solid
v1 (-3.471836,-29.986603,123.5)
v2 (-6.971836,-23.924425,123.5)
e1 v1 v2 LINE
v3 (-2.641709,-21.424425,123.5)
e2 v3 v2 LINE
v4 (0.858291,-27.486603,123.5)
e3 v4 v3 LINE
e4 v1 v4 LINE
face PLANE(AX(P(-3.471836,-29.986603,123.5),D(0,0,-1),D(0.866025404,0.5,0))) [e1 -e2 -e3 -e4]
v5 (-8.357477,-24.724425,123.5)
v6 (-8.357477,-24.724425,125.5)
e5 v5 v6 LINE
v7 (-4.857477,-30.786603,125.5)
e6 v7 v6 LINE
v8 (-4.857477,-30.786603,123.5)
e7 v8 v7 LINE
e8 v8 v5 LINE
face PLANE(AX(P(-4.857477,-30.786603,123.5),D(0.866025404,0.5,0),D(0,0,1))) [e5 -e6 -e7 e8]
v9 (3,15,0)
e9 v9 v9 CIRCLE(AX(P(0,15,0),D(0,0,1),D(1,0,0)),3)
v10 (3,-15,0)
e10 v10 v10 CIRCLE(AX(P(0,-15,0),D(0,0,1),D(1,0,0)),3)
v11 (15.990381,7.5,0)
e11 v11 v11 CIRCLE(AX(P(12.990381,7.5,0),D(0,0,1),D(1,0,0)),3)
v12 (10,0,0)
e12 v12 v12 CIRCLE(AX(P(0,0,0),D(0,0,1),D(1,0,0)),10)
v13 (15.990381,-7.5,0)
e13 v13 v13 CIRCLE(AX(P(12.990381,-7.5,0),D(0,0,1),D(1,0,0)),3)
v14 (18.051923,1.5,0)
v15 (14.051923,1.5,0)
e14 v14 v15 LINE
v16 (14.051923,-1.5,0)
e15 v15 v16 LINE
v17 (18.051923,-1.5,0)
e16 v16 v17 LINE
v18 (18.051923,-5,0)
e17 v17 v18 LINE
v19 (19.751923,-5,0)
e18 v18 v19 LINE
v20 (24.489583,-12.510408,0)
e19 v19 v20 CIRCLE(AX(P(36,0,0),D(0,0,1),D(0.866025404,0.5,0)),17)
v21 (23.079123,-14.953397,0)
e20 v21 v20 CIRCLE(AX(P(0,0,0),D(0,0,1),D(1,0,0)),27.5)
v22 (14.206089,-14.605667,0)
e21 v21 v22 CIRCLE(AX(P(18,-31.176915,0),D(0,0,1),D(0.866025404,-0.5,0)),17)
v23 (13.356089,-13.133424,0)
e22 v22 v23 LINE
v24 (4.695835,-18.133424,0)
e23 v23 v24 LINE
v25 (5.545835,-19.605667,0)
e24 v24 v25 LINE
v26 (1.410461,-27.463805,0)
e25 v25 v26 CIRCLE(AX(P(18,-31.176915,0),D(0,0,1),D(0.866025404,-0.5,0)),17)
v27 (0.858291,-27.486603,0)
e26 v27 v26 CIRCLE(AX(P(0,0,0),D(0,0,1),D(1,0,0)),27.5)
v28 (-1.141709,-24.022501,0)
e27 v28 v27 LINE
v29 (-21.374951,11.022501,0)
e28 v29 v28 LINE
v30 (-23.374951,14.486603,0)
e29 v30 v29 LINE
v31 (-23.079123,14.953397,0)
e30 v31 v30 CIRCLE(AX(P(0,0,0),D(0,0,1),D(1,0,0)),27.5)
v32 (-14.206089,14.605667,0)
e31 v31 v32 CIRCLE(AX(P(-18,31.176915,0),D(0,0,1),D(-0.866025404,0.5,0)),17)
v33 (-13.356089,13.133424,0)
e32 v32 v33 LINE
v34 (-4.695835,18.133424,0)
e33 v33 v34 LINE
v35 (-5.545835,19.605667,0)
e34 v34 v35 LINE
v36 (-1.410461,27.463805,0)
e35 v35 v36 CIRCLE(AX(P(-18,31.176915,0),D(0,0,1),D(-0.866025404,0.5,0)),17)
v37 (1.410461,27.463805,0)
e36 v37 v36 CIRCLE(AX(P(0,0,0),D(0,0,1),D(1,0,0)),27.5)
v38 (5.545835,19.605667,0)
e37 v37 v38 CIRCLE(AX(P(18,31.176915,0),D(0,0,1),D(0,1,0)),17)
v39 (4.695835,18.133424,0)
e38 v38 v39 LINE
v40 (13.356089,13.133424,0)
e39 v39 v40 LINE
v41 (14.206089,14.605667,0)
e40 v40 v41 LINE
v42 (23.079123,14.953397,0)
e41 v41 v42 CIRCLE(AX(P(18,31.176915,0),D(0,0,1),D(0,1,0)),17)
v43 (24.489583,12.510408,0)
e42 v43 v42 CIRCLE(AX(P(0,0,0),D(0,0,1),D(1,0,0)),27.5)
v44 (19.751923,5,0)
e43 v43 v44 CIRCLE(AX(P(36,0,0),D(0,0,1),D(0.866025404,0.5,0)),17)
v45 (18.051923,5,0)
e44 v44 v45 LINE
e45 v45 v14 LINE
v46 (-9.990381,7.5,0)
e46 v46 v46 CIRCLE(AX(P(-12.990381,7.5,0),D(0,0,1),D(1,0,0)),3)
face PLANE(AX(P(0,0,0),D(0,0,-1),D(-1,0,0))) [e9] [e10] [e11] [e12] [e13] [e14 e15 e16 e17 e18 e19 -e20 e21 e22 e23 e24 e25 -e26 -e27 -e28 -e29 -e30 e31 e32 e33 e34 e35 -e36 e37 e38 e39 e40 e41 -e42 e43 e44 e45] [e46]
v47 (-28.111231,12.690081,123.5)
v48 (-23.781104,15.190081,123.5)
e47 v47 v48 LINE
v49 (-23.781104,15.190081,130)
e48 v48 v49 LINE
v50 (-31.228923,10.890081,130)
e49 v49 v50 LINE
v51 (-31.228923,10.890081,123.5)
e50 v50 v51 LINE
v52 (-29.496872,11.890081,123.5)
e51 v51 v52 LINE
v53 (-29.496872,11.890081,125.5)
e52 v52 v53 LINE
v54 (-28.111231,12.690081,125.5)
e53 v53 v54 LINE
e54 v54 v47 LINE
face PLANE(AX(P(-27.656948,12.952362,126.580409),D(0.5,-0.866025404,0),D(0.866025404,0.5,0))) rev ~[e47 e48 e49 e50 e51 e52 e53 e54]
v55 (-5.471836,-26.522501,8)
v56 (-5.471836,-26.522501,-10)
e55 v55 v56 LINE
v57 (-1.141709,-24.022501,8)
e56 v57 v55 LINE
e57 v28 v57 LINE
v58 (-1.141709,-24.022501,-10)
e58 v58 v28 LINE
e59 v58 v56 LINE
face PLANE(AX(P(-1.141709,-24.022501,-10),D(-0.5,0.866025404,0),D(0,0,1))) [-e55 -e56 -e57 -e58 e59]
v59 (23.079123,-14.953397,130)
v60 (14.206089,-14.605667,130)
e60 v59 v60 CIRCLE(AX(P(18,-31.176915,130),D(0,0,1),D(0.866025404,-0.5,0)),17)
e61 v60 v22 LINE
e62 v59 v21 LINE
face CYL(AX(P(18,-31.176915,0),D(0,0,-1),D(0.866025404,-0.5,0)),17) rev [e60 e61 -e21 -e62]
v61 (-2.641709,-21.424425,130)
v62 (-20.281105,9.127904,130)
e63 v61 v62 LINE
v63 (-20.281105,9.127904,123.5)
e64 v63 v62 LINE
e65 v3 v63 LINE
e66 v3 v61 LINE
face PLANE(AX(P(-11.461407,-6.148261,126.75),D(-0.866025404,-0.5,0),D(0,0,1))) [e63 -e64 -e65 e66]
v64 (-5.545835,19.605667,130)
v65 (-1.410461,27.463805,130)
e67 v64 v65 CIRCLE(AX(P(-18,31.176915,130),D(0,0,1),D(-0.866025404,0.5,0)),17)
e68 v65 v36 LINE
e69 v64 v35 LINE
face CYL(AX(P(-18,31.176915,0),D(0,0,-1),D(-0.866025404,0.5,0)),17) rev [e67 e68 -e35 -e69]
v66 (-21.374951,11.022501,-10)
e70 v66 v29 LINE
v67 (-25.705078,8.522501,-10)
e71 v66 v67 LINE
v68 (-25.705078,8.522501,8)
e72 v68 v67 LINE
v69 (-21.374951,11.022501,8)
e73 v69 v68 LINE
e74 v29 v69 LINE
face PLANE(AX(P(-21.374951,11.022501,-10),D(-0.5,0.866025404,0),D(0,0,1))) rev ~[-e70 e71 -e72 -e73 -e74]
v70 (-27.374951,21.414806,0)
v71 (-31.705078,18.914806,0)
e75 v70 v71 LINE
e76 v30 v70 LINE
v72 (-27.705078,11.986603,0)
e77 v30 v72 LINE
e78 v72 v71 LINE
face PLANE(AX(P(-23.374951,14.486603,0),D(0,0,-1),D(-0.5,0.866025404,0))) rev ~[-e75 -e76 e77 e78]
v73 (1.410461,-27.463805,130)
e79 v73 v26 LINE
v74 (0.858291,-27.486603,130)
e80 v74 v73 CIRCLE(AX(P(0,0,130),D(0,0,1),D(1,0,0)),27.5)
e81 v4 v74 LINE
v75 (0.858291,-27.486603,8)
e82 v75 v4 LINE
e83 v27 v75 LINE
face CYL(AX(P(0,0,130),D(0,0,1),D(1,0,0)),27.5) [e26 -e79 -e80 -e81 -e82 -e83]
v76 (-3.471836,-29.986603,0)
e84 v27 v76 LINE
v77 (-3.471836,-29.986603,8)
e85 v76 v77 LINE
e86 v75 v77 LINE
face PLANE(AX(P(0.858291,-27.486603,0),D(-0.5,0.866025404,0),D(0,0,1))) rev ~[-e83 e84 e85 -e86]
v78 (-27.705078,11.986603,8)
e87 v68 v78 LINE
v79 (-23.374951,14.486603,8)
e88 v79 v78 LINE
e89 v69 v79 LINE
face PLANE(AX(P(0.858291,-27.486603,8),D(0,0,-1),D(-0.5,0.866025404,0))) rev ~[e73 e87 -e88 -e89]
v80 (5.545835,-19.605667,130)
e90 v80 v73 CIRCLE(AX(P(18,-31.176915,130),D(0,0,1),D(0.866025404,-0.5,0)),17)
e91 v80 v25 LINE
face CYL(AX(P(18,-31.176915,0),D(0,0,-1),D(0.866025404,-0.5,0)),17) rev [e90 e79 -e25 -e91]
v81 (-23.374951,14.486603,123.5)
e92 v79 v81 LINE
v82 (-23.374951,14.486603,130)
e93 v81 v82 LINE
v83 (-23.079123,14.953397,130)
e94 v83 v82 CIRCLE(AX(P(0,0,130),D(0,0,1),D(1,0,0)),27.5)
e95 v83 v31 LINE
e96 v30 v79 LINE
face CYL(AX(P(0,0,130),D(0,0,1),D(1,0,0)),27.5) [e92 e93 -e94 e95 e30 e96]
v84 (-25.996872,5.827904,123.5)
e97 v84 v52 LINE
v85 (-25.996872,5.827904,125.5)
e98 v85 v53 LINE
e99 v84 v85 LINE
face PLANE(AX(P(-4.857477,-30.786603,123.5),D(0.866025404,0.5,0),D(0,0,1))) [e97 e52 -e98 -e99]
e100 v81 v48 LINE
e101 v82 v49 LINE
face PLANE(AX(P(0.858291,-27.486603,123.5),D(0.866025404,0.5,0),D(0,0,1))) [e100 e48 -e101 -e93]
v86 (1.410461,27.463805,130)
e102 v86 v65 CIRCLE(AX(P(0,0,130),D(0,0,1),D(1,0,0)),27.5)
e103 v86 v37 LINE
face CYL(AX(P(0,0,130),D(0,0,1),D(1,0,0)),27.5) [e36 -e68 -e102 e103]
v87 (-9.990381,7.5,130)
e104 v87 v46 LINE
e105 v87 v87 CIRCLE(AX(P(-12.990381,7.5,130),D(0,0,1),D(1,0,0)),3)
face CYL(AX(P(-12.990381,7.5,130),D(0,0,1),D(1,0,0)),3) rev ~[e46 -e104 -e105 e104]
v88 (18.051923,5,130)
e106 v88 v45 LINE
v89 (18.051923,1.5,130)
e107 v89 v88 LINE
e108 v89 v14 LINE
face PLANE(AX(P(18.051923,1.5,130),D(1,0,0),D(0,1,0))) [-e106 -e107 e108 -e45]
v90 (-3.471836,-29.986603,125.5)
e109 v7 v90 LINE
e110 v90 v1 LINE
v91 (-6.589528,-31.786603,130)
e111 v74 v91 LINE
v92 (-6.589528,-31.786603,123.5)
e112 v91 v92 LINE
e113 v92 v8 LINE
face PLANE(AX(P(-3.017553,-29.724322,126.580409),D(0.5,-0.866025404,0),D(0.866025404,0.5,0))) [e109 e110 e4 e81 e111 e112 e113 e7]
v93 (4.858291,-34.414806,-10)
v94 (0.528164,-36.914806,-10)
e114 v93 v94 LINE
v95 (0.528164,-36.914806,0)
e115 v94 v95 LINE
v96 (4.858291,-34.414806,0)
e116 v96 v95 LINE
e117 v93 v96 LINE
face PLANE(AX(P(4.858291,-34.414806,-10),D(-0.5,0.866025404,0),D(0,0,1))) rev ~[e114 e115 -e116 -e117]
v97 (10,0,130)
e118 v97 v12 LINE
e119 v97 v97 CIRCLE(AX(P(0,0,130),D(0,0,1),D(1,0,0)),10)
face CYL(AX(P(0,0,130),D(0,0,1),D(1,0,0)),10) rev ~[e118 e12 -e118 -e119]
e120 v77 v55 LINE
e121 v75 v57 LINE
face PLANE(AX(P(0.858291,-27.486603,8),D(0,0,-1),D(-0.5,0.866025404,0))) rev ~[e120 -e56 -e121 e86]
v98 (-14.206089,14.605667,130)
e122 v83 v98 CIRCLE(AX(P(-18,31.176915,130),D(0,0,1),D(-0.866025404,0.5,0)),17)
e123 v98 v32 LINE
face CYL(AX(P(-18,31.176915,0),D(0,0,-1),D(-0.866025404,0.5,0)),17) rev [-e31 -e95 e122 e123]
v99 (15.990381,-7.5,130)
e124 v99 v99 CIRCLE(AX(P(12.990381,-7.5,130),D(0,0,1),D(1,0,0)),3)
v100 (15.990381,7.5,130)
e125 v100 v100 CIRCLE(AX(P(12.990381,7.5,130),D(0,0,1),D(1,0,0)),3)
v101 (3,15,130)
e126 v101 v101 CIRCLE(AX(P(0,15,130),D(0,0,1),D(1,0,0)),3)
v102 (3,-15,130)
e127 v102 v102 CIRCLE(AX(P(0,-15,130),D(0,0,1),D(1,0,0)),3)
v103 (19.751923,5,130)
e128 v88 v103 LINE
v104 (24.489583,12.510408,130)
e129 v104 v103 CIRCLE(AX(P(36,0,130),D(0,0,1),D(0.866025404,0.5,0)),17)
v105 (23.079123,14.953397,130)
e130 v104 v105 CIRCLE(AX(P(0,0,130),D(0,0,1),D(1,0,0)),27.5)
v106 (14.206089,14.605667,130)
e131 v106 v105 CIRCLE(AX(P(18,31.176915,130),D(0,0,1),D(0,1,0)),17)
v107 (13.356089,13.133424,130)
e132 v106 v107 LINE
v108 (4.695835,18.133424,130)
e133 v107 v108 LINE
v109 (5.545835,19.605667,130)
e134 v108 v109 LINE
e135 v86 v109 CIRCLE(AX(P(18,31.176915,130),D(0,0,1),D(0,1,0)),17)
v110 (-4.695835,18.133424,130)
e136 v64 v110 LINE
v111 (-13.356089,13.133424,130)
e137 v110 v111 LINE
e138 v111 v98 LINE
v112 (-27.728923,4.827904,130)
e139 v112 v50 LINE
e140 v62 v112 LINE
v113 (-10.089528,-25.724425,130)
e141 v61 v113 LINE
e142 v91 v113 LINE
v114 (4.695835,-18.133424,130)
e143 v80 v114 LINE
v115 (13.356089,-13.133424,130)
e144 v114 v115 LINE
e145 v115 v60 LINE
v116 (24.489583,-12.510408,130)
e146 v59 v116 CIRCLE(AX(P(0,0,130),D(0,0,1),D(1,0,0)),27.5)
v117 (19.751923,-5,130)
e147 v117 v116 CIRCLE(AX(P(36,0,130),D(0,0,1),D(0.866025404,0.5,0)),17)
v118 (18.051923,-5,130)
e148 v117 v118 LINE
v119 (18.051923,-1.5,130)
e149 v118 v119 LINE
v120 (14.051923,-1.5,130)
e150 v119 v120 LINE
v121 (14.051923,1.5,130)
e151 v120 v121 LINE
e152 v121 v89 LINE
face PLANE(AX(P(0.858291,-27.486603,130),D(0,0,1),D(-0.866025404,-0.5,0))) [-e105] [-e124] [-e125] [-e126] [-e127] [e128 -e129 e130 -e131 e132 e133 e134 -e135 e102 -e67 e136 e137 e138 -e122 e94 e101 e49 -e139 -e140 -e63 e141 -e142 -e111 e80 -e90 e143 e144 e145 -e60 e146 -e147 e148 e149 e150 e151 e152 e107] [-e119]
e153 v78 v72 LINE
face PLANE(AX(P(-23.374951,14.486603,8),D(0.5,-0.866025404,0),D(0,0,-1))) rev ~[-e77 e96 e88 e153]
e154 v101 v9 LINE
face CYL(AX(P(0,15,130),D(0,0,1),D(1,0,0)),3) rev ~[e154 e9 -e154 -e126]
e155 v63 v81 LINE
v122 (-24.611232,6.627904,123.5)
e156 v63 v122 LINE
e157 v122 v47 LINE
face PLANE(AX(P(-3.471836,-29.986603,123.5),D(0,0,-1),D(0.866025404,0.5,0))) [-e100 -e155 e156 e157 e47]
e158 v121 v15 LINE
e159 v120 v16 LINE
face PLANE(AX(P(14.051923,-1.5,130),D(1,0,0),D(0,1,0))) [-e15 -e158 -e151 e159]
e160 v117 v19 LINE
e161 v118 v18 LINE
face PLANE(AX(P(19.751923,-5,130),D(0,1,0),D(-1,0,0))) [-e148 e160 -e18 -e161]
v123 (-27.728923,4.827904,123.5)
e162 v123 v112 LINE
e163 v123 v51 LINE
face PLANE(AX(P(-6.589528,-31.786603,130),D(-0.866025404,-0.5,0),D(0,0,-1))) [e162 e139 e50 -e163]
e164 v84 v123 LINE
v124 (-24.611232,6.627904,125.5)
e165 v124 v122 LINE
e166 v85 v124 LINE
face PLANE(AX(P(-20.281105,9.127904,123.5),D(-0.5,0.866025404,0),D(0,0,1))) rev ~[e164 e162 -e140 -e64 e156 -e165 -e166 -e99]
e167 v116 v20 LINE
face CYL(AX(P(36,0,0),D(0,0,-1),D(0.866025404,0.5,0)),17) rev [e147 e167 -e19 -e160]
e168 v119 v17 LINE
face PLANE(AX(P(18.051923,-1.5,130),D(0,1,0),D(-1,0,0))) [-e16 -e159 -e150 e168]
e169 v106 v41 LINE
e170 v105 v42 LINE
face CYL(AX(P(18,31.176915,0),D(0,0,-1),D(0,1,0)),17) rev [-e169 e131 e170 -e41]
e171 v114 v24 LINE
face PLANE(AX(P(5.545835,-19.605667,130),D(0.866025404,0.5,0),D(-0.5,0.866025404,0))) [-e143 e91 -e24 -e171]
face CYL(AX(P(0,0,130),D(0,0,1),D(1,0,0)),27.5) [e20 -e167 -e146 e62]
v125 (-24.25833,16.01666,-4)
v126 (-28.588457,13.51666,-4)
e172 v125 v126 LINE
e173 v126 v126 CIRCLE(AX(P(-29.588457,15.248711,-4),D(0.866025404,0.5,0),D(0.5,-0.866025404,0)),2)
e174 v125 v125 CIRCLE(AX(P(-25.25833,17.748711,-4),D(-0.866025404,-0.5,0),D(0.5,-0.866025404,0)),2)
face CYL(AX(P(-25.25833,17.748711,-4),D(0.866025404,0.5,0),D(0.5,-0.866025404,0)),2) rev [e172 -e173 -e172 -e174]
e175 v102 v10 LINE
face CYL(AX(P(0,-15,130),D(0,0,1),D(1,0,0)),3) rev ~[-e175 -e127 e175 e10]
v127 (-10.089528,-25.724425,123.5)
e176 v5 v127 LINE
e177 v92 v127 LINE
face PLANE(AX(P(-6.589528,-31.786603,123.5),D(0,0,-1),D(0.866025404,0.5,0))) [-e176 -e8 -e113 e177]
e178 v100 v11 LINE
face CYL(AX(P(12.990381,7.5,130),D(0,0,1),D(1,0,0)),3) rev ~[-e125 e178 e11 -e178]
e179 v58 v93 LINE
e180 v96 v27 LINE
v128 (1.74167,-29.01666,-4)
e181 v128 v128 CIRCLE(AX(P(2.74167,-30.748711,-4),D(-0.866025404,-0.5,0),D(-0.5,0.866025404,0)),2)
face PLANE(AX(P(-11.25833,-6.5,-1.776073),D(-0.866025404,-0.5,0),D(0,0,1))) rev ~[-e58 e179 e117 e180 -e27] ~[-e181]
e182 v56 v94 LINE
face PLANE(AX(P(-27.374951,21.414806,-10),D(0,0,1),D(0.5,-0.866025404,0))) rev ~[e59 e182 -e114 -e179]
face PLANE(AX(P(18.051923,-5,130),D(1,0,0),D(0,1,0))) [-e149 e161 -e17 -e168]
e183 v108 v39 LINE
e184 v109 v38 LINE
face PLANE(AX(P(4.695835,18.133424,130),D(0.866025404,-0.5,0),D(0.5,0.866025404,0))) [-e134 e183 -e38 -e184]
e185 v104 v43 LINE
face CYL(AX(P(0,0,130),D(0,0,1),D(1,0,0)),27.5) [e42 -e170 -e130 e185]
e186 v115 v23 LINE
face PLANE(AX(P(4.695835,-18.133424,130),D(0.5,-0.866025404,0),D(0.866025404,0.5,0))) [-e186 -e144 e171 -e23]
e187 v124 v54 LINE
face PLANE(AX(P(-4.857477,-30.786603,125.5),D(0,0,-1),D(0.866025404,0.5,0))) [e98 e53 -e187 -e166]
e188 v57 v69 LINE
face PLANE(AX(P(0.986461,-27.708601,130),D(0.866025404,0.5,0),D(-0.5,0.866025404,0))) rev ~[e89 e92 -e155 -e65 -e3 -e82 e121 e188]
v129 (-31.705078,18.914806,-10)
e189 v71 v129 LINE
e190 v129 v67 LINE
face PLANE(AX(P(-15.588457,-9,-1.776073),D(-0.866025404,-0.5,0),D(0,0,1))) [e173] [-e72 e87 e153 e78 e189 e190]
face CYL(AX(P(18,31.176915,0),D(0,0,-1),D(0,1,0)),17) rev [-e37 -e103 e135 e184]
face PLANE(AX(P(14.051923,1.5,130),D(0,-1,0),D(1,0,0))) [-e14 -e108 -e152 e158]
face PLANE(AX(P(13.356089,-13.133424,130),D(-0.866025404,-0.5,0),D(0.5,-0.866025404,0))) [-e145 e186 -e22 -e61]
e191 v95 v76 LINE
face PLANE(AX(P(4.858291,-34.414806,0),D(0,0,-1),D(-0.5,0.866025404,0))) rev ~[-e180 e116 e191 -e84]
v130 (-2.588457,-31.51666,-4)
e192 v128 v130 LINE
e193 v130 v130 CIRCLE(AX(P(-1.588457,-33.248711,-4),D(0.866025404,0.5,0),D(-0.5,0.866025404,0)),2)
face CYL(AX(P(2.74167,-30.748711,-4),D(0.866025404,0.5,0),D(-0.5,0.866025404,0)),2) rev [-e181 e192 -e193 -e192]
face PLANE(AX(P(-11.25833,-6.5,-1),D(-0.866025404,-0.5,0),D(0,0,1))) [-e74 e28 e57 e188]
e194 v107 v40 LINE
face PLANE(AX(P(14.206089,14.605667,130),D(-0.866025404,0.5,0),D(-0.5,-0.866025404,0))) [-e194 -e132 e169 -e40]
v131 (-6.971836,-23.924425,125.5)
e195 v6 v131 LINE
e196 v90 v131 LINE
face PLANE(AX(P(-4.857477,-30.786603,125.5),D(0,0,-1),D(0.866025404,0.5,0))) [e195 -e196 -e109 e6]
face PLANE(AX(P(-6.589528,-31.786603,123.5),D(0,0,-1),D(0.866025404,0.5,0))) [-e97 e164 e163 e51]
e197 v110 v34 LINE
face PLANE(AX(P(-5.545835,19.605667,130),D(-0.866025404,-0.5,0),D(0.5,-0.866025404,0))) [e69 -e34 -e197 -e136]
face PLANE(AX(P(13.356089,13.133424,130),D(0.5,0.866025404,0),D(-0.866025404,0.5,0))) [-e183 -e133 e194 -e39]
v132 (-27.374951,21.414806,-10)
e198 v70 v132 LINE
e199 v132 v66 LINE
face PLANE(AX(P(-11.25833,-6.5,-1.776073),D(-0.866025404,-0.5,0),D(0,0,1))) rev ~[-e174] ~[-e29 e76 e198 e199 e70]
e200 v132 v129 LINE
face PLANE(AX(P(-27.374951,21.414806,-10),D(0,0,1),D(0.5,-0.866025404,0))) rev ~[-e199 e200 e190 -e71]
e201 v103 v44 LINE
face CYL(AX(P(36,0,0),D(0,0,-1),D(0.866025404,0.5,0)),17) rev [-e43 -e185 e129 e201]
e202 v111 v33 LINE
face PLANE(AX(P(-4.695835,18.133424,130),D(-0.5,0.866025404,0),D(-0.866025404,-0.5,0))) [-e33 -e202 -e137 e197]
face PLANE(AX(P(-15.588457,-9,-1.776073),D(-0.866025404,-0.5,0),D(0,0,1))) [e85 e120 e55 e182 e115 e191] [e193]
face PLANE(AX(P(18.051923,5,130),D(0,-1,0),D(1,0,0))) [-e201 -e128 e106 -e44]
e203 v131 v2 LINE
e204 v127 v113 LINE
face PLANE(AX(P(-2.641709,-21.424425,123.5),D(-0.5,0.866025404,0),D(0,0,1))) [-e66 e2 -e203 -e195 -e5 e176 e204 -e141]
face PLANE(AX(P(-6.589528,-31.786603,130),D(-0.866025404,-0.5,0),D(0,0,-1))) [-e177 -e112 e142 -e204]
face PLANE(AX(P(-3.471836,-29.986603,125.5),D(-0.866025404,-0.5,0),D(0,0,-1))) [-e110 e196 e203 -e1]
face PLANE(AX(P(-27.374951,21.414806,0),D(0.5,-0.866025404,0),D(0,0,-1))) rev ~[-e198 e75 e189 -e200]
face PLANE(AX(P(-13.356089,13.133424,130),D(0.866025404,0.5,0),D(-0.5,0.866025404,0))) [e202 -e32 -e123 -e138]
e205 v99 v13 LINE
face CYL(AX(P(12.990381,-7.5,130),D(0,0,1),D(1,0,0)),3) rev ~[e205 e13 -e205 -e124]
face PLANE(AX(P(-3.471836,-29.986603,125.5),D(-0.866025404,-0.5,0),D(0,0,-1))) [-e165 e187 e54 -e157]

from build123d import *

# Parameters (mm, degrees)
BOSS_EXTRU_1_DEPTH      = 130
ESQUISSE4_R             = 54.250129783
ESQUISSE4_R_2           = 27.5
ENL_V_MAT_EXTRU_1_DEPTH = 150.53980461
ESQUISSE5_R             = 10
ESQUISSE5_R_2           = 3
ENL_V_MAT_EXTRU_2_DEPTH = 136.114727886
BOSS_EXTRU_2_DEPTH      = 5
ESQUISSE6_R             = 2
ENL_V_MAT_EXTRU_3_DEPTH = 140.046443052
BOSS_EXTRU_3_DEPTH      = 49.27879
ENL_V_START             = -8.6
ESQUISSE9_W             = 6.5
ESQUISSE9_H             = 35.278790482
ESQUISSE9_W_2           = 18
ESQUISSE9_H_2           = 40.466483264
ENL_V_MAT_EXTRU_4_DEPTH = 8.6


with BuildPart() as part:
    # Esquisse1 → Boss.-Extru.1 (new body)
    with BuildSketch(Plane.XY):
        with BuildLine():
            Line((-18, -51.176914536), (-18, -48.176914536))
            ThreePointArc((-18, -48.176914536), (-9.5, -16.454482672), (-32.722431864, -39.676914536))
            Line((-32.722431864, -39.676914536), (-35.320508076, -41.176914536))
            ThreePointArc((-35.320508076, -41.176914536), (-37.98683472, -30.451354144), (-34.549834435, -19.947356212))
            ThreePointArc((-34.549834435, -19.947356212), (-45.365063628, -17.671886805), (-53.320508076, -10))
            Line((-53.320508076, -10), (-50.722431864, -8.5))
            ThreePointArc((-50.722431864, -8.5), (-19, 0), (-50.722431864, 8.5))
            Line((-50.722431864, 8.5), (-53.320508076, 10))
            ThreePointArc((-53.320508076, 10), (-45.365063628, 17.671886805), (-34.549834435, 19.947356212))
            ThreePointArc((-34.549834435, 19.947356212), (-37.98683472, 30.451354144), (-35.320508076, 41.176914536))
            Line((-35.320508076, 41.176914536), (-32.722431864, 39.676914536))
            ThreePointArc((-32.722431864, 39.676914536), (-9.5, 16.454482672), (-18, 48.176914536))
            Line((-18, 48.176914536), (-18, 51.176914536))
            ThreePointArc((-18, 51.176914536), (-7.378228908, 48.123240948), (0, 39.894712423))
            ThreePointArc((0, 39.894712423), (7.378228908, 48.123240948), (18, 51.176914536))
            Line((18, 51.176914536), (18, 48.176914536))
            ThreePointArc((18, 48.176914536), (9.5, 16.454482672), (32.722431864, 39.676914536))
            Line((32.722431864, 39.676914536), (35.320508076, 41.176914536))
            ThreePointArc((35.320508076, 41.176914536), (37.98683472, 30.451354144), (34.549834435, 19.947356212))
            ThreePointArc((34.549834435, 19.947356212), (45.365063628, 17.671886805), (53.320508076, 10))
            Line((53.320508076, 10), (50.722431864, 8.5))
            ThreePointArc((50.722431864, 8.5), (19, 0), (50.722431864, -8.5))
            Line((50.722431864, -8.5), (53.320508076, -10))
            ThreePointArc((53.320508076, -10), (45.365063628, -17.671886805), (34.549834435, -19.947356212))
            ThreePointArc((34.549834435, -19.947356212), (37.98683472, -30.451354144), (35.320508076, -41.176914536))
            Line((35.320508076, -41.176914536), (32.722431864, -39.676914536))
            ThreePointArc((32.722431864, -39.676914536), (9.5, -16.454482672), (18, -48.176914536))
            Line((18, -48.176914536), (18, -51.176914536))
            ThreePointArc((18, -51.176914536), (7.378228908, -48.123240948), (0, -39.894712423))
            ThreePointArc((0, -39.894712423), (-7.378228908, -48.123240948), (-18, -51.176914536))
        make_face()
    extrude(amount=BOSS_EXTRU_1_DEPTH)

    # Esquisse4 → Enlèv. mat.-Extru.1 (cut, through all)
    with BuildSketch(Plane.XY.offset(130)):
        Circle(ESQUISSE4_R)
        Circle(ESQUISSE4_R_2, mode=Mode.SUBTRACT)
    extrude(amount=-ENL_V_MAT_EXTRU_1_DEPTH, mode=Mode.SUBTRACT)

    # Esquisse5 → Enlèv. mat.-Extru.2 (cut, through all)
    with BuildSketch(Plane.XY.offset(130)):
        Circle(ESQUISSE5_R)
        with Locations((0, 15)):
            Circle(ESQUISSE5_R_2)
        with Locations((12.990381057, 7.5)):
            Circle(ESQUISSE5_R_2)
        with Locations((12.990381057, -7.5)):
            Circle(ESQUISSE5_R_2)
        with Locations((0, -15)):
            Circle(ESQUISSE5_R_2)
        with Locations((-12.990381057, 7.5)):
            Circle(ESQUISSE5_R_2)
        Polygon((14.206088614, -14.605667257), (5.545834576, -19.605667257), (4.695834576, -18.13342407), (13.356088614, -13.13342407), align=None)
        Polygon((18.051923191, 5), (19.751923191, 5), (19.751923191, -5), (18.051923191, -5), (18.051923191, -1.5), (14.051923191, -1.5), (14.051923191, 1.5), (18.051923191, 1.5), align=None)
        Polygon((-14.206088614, 14.605667257), (-5.545834576, 19.605667257), (-4.695834576, 18.13342407), (-13.356088614, 13.13342407), align=None)
        Polygon((5.545834576, 19.605667257), (14.206088614, 14.605667257), (13.356088614, 13.13342407), (4.695834576, 18.13342407), align=None)
        Polygon((0.986461417, -27.708601295), (-23.503121916, 14.708601295), (-40.823629992, 4.708601295), (-16.334046658, -37.708601295), align=None)
    extrude(amount=-ENL_V_MAT_EXTRU_2_DEPTH, mode=Mode.SUBTRACT)

    # Esquisse7 → Boss.-Extru.2 (add)
    with BuildSketch(Plane(origin=(-11.258330249, -6.5, 0), x_dir=(0, 0, 1), z_dir=(-0.8660254037844403, -0.49999999999999717, 0))):
        Polygon((8, 24.233241632), (0, 24.233241632), (0, 32.233241632), (-10, 32.233241632), (-10, -32.233241632), (0, -32.233241632), (0, -24.233241632), (8, -24.233241632), align=None)
    extrude(amount=BOSS_EXTRU_2_DEPTH)

    # Esquisse6 → Enlèv. mat.-Extru.3 (cut, through all)
    with BuildSketch(Plane(origin=(-11.258330249, -6.5, 0), x_dir=(0, 0, 1), z_dir=(-0.8660254037844403, -0.49999999999999717, 0))):
        with Locations(Location((-4, 28, 0), (0, 0, 270))):
            Circle(ESQUISSE6_R)
        with Locations(Location((-4, -28, 0), (0, 0, 90))):
            Circle(ESQUISSE6_R)
    extrude(amount=ENL_V_MAT_EXTRU_3_DEPTH, mode=Mode.SUBTRACT)

    # Esquisse8 → Boss.-Extru.3 (add)
    with BuildSketch(Plane(origin=(12.116620816, -20.986602869, 0), x_dir=(0.8660254037844403, 0.4999999999999971, 0), z_dir=(0.49999999999999717, -0.8660254037844404, 0))):
        Polygon((-13, 130), (-21.6, 130), (-21.6, 123.5), (-19.6, 123.5), (-19.6, 125.5), (-18, 125.5), (-18, 123.5), (-13, 123.5), align=None)
    extrude(amount=-BOSS_EXTRU_3_DEPTH)

    # Esquisse9 → Enlèv. mat.-Extru.4 (cut)
    with BuildSketch(Plane(origin=(-18.706148722, -10.8, 0), x_dir=(0, 0, 1), z_dir=(-0.8660254037844403, -0.49999999999999734, 0)).offset(ENL_V_START)):
        with Locations((126.75, 0.406153609)):
            Rectangle(ESQUISSE9_W, ESQUISSE9_H)
        with Locations((-1, 0)):
            Rectangle(ESQUISSE9_W_2, ESQUISSE9_H_2)
    extrude(amount=ENL_V_MAT_EXTRU_4_DEPTH, mode=Mode.SUBTRACT)


solid = part.part
